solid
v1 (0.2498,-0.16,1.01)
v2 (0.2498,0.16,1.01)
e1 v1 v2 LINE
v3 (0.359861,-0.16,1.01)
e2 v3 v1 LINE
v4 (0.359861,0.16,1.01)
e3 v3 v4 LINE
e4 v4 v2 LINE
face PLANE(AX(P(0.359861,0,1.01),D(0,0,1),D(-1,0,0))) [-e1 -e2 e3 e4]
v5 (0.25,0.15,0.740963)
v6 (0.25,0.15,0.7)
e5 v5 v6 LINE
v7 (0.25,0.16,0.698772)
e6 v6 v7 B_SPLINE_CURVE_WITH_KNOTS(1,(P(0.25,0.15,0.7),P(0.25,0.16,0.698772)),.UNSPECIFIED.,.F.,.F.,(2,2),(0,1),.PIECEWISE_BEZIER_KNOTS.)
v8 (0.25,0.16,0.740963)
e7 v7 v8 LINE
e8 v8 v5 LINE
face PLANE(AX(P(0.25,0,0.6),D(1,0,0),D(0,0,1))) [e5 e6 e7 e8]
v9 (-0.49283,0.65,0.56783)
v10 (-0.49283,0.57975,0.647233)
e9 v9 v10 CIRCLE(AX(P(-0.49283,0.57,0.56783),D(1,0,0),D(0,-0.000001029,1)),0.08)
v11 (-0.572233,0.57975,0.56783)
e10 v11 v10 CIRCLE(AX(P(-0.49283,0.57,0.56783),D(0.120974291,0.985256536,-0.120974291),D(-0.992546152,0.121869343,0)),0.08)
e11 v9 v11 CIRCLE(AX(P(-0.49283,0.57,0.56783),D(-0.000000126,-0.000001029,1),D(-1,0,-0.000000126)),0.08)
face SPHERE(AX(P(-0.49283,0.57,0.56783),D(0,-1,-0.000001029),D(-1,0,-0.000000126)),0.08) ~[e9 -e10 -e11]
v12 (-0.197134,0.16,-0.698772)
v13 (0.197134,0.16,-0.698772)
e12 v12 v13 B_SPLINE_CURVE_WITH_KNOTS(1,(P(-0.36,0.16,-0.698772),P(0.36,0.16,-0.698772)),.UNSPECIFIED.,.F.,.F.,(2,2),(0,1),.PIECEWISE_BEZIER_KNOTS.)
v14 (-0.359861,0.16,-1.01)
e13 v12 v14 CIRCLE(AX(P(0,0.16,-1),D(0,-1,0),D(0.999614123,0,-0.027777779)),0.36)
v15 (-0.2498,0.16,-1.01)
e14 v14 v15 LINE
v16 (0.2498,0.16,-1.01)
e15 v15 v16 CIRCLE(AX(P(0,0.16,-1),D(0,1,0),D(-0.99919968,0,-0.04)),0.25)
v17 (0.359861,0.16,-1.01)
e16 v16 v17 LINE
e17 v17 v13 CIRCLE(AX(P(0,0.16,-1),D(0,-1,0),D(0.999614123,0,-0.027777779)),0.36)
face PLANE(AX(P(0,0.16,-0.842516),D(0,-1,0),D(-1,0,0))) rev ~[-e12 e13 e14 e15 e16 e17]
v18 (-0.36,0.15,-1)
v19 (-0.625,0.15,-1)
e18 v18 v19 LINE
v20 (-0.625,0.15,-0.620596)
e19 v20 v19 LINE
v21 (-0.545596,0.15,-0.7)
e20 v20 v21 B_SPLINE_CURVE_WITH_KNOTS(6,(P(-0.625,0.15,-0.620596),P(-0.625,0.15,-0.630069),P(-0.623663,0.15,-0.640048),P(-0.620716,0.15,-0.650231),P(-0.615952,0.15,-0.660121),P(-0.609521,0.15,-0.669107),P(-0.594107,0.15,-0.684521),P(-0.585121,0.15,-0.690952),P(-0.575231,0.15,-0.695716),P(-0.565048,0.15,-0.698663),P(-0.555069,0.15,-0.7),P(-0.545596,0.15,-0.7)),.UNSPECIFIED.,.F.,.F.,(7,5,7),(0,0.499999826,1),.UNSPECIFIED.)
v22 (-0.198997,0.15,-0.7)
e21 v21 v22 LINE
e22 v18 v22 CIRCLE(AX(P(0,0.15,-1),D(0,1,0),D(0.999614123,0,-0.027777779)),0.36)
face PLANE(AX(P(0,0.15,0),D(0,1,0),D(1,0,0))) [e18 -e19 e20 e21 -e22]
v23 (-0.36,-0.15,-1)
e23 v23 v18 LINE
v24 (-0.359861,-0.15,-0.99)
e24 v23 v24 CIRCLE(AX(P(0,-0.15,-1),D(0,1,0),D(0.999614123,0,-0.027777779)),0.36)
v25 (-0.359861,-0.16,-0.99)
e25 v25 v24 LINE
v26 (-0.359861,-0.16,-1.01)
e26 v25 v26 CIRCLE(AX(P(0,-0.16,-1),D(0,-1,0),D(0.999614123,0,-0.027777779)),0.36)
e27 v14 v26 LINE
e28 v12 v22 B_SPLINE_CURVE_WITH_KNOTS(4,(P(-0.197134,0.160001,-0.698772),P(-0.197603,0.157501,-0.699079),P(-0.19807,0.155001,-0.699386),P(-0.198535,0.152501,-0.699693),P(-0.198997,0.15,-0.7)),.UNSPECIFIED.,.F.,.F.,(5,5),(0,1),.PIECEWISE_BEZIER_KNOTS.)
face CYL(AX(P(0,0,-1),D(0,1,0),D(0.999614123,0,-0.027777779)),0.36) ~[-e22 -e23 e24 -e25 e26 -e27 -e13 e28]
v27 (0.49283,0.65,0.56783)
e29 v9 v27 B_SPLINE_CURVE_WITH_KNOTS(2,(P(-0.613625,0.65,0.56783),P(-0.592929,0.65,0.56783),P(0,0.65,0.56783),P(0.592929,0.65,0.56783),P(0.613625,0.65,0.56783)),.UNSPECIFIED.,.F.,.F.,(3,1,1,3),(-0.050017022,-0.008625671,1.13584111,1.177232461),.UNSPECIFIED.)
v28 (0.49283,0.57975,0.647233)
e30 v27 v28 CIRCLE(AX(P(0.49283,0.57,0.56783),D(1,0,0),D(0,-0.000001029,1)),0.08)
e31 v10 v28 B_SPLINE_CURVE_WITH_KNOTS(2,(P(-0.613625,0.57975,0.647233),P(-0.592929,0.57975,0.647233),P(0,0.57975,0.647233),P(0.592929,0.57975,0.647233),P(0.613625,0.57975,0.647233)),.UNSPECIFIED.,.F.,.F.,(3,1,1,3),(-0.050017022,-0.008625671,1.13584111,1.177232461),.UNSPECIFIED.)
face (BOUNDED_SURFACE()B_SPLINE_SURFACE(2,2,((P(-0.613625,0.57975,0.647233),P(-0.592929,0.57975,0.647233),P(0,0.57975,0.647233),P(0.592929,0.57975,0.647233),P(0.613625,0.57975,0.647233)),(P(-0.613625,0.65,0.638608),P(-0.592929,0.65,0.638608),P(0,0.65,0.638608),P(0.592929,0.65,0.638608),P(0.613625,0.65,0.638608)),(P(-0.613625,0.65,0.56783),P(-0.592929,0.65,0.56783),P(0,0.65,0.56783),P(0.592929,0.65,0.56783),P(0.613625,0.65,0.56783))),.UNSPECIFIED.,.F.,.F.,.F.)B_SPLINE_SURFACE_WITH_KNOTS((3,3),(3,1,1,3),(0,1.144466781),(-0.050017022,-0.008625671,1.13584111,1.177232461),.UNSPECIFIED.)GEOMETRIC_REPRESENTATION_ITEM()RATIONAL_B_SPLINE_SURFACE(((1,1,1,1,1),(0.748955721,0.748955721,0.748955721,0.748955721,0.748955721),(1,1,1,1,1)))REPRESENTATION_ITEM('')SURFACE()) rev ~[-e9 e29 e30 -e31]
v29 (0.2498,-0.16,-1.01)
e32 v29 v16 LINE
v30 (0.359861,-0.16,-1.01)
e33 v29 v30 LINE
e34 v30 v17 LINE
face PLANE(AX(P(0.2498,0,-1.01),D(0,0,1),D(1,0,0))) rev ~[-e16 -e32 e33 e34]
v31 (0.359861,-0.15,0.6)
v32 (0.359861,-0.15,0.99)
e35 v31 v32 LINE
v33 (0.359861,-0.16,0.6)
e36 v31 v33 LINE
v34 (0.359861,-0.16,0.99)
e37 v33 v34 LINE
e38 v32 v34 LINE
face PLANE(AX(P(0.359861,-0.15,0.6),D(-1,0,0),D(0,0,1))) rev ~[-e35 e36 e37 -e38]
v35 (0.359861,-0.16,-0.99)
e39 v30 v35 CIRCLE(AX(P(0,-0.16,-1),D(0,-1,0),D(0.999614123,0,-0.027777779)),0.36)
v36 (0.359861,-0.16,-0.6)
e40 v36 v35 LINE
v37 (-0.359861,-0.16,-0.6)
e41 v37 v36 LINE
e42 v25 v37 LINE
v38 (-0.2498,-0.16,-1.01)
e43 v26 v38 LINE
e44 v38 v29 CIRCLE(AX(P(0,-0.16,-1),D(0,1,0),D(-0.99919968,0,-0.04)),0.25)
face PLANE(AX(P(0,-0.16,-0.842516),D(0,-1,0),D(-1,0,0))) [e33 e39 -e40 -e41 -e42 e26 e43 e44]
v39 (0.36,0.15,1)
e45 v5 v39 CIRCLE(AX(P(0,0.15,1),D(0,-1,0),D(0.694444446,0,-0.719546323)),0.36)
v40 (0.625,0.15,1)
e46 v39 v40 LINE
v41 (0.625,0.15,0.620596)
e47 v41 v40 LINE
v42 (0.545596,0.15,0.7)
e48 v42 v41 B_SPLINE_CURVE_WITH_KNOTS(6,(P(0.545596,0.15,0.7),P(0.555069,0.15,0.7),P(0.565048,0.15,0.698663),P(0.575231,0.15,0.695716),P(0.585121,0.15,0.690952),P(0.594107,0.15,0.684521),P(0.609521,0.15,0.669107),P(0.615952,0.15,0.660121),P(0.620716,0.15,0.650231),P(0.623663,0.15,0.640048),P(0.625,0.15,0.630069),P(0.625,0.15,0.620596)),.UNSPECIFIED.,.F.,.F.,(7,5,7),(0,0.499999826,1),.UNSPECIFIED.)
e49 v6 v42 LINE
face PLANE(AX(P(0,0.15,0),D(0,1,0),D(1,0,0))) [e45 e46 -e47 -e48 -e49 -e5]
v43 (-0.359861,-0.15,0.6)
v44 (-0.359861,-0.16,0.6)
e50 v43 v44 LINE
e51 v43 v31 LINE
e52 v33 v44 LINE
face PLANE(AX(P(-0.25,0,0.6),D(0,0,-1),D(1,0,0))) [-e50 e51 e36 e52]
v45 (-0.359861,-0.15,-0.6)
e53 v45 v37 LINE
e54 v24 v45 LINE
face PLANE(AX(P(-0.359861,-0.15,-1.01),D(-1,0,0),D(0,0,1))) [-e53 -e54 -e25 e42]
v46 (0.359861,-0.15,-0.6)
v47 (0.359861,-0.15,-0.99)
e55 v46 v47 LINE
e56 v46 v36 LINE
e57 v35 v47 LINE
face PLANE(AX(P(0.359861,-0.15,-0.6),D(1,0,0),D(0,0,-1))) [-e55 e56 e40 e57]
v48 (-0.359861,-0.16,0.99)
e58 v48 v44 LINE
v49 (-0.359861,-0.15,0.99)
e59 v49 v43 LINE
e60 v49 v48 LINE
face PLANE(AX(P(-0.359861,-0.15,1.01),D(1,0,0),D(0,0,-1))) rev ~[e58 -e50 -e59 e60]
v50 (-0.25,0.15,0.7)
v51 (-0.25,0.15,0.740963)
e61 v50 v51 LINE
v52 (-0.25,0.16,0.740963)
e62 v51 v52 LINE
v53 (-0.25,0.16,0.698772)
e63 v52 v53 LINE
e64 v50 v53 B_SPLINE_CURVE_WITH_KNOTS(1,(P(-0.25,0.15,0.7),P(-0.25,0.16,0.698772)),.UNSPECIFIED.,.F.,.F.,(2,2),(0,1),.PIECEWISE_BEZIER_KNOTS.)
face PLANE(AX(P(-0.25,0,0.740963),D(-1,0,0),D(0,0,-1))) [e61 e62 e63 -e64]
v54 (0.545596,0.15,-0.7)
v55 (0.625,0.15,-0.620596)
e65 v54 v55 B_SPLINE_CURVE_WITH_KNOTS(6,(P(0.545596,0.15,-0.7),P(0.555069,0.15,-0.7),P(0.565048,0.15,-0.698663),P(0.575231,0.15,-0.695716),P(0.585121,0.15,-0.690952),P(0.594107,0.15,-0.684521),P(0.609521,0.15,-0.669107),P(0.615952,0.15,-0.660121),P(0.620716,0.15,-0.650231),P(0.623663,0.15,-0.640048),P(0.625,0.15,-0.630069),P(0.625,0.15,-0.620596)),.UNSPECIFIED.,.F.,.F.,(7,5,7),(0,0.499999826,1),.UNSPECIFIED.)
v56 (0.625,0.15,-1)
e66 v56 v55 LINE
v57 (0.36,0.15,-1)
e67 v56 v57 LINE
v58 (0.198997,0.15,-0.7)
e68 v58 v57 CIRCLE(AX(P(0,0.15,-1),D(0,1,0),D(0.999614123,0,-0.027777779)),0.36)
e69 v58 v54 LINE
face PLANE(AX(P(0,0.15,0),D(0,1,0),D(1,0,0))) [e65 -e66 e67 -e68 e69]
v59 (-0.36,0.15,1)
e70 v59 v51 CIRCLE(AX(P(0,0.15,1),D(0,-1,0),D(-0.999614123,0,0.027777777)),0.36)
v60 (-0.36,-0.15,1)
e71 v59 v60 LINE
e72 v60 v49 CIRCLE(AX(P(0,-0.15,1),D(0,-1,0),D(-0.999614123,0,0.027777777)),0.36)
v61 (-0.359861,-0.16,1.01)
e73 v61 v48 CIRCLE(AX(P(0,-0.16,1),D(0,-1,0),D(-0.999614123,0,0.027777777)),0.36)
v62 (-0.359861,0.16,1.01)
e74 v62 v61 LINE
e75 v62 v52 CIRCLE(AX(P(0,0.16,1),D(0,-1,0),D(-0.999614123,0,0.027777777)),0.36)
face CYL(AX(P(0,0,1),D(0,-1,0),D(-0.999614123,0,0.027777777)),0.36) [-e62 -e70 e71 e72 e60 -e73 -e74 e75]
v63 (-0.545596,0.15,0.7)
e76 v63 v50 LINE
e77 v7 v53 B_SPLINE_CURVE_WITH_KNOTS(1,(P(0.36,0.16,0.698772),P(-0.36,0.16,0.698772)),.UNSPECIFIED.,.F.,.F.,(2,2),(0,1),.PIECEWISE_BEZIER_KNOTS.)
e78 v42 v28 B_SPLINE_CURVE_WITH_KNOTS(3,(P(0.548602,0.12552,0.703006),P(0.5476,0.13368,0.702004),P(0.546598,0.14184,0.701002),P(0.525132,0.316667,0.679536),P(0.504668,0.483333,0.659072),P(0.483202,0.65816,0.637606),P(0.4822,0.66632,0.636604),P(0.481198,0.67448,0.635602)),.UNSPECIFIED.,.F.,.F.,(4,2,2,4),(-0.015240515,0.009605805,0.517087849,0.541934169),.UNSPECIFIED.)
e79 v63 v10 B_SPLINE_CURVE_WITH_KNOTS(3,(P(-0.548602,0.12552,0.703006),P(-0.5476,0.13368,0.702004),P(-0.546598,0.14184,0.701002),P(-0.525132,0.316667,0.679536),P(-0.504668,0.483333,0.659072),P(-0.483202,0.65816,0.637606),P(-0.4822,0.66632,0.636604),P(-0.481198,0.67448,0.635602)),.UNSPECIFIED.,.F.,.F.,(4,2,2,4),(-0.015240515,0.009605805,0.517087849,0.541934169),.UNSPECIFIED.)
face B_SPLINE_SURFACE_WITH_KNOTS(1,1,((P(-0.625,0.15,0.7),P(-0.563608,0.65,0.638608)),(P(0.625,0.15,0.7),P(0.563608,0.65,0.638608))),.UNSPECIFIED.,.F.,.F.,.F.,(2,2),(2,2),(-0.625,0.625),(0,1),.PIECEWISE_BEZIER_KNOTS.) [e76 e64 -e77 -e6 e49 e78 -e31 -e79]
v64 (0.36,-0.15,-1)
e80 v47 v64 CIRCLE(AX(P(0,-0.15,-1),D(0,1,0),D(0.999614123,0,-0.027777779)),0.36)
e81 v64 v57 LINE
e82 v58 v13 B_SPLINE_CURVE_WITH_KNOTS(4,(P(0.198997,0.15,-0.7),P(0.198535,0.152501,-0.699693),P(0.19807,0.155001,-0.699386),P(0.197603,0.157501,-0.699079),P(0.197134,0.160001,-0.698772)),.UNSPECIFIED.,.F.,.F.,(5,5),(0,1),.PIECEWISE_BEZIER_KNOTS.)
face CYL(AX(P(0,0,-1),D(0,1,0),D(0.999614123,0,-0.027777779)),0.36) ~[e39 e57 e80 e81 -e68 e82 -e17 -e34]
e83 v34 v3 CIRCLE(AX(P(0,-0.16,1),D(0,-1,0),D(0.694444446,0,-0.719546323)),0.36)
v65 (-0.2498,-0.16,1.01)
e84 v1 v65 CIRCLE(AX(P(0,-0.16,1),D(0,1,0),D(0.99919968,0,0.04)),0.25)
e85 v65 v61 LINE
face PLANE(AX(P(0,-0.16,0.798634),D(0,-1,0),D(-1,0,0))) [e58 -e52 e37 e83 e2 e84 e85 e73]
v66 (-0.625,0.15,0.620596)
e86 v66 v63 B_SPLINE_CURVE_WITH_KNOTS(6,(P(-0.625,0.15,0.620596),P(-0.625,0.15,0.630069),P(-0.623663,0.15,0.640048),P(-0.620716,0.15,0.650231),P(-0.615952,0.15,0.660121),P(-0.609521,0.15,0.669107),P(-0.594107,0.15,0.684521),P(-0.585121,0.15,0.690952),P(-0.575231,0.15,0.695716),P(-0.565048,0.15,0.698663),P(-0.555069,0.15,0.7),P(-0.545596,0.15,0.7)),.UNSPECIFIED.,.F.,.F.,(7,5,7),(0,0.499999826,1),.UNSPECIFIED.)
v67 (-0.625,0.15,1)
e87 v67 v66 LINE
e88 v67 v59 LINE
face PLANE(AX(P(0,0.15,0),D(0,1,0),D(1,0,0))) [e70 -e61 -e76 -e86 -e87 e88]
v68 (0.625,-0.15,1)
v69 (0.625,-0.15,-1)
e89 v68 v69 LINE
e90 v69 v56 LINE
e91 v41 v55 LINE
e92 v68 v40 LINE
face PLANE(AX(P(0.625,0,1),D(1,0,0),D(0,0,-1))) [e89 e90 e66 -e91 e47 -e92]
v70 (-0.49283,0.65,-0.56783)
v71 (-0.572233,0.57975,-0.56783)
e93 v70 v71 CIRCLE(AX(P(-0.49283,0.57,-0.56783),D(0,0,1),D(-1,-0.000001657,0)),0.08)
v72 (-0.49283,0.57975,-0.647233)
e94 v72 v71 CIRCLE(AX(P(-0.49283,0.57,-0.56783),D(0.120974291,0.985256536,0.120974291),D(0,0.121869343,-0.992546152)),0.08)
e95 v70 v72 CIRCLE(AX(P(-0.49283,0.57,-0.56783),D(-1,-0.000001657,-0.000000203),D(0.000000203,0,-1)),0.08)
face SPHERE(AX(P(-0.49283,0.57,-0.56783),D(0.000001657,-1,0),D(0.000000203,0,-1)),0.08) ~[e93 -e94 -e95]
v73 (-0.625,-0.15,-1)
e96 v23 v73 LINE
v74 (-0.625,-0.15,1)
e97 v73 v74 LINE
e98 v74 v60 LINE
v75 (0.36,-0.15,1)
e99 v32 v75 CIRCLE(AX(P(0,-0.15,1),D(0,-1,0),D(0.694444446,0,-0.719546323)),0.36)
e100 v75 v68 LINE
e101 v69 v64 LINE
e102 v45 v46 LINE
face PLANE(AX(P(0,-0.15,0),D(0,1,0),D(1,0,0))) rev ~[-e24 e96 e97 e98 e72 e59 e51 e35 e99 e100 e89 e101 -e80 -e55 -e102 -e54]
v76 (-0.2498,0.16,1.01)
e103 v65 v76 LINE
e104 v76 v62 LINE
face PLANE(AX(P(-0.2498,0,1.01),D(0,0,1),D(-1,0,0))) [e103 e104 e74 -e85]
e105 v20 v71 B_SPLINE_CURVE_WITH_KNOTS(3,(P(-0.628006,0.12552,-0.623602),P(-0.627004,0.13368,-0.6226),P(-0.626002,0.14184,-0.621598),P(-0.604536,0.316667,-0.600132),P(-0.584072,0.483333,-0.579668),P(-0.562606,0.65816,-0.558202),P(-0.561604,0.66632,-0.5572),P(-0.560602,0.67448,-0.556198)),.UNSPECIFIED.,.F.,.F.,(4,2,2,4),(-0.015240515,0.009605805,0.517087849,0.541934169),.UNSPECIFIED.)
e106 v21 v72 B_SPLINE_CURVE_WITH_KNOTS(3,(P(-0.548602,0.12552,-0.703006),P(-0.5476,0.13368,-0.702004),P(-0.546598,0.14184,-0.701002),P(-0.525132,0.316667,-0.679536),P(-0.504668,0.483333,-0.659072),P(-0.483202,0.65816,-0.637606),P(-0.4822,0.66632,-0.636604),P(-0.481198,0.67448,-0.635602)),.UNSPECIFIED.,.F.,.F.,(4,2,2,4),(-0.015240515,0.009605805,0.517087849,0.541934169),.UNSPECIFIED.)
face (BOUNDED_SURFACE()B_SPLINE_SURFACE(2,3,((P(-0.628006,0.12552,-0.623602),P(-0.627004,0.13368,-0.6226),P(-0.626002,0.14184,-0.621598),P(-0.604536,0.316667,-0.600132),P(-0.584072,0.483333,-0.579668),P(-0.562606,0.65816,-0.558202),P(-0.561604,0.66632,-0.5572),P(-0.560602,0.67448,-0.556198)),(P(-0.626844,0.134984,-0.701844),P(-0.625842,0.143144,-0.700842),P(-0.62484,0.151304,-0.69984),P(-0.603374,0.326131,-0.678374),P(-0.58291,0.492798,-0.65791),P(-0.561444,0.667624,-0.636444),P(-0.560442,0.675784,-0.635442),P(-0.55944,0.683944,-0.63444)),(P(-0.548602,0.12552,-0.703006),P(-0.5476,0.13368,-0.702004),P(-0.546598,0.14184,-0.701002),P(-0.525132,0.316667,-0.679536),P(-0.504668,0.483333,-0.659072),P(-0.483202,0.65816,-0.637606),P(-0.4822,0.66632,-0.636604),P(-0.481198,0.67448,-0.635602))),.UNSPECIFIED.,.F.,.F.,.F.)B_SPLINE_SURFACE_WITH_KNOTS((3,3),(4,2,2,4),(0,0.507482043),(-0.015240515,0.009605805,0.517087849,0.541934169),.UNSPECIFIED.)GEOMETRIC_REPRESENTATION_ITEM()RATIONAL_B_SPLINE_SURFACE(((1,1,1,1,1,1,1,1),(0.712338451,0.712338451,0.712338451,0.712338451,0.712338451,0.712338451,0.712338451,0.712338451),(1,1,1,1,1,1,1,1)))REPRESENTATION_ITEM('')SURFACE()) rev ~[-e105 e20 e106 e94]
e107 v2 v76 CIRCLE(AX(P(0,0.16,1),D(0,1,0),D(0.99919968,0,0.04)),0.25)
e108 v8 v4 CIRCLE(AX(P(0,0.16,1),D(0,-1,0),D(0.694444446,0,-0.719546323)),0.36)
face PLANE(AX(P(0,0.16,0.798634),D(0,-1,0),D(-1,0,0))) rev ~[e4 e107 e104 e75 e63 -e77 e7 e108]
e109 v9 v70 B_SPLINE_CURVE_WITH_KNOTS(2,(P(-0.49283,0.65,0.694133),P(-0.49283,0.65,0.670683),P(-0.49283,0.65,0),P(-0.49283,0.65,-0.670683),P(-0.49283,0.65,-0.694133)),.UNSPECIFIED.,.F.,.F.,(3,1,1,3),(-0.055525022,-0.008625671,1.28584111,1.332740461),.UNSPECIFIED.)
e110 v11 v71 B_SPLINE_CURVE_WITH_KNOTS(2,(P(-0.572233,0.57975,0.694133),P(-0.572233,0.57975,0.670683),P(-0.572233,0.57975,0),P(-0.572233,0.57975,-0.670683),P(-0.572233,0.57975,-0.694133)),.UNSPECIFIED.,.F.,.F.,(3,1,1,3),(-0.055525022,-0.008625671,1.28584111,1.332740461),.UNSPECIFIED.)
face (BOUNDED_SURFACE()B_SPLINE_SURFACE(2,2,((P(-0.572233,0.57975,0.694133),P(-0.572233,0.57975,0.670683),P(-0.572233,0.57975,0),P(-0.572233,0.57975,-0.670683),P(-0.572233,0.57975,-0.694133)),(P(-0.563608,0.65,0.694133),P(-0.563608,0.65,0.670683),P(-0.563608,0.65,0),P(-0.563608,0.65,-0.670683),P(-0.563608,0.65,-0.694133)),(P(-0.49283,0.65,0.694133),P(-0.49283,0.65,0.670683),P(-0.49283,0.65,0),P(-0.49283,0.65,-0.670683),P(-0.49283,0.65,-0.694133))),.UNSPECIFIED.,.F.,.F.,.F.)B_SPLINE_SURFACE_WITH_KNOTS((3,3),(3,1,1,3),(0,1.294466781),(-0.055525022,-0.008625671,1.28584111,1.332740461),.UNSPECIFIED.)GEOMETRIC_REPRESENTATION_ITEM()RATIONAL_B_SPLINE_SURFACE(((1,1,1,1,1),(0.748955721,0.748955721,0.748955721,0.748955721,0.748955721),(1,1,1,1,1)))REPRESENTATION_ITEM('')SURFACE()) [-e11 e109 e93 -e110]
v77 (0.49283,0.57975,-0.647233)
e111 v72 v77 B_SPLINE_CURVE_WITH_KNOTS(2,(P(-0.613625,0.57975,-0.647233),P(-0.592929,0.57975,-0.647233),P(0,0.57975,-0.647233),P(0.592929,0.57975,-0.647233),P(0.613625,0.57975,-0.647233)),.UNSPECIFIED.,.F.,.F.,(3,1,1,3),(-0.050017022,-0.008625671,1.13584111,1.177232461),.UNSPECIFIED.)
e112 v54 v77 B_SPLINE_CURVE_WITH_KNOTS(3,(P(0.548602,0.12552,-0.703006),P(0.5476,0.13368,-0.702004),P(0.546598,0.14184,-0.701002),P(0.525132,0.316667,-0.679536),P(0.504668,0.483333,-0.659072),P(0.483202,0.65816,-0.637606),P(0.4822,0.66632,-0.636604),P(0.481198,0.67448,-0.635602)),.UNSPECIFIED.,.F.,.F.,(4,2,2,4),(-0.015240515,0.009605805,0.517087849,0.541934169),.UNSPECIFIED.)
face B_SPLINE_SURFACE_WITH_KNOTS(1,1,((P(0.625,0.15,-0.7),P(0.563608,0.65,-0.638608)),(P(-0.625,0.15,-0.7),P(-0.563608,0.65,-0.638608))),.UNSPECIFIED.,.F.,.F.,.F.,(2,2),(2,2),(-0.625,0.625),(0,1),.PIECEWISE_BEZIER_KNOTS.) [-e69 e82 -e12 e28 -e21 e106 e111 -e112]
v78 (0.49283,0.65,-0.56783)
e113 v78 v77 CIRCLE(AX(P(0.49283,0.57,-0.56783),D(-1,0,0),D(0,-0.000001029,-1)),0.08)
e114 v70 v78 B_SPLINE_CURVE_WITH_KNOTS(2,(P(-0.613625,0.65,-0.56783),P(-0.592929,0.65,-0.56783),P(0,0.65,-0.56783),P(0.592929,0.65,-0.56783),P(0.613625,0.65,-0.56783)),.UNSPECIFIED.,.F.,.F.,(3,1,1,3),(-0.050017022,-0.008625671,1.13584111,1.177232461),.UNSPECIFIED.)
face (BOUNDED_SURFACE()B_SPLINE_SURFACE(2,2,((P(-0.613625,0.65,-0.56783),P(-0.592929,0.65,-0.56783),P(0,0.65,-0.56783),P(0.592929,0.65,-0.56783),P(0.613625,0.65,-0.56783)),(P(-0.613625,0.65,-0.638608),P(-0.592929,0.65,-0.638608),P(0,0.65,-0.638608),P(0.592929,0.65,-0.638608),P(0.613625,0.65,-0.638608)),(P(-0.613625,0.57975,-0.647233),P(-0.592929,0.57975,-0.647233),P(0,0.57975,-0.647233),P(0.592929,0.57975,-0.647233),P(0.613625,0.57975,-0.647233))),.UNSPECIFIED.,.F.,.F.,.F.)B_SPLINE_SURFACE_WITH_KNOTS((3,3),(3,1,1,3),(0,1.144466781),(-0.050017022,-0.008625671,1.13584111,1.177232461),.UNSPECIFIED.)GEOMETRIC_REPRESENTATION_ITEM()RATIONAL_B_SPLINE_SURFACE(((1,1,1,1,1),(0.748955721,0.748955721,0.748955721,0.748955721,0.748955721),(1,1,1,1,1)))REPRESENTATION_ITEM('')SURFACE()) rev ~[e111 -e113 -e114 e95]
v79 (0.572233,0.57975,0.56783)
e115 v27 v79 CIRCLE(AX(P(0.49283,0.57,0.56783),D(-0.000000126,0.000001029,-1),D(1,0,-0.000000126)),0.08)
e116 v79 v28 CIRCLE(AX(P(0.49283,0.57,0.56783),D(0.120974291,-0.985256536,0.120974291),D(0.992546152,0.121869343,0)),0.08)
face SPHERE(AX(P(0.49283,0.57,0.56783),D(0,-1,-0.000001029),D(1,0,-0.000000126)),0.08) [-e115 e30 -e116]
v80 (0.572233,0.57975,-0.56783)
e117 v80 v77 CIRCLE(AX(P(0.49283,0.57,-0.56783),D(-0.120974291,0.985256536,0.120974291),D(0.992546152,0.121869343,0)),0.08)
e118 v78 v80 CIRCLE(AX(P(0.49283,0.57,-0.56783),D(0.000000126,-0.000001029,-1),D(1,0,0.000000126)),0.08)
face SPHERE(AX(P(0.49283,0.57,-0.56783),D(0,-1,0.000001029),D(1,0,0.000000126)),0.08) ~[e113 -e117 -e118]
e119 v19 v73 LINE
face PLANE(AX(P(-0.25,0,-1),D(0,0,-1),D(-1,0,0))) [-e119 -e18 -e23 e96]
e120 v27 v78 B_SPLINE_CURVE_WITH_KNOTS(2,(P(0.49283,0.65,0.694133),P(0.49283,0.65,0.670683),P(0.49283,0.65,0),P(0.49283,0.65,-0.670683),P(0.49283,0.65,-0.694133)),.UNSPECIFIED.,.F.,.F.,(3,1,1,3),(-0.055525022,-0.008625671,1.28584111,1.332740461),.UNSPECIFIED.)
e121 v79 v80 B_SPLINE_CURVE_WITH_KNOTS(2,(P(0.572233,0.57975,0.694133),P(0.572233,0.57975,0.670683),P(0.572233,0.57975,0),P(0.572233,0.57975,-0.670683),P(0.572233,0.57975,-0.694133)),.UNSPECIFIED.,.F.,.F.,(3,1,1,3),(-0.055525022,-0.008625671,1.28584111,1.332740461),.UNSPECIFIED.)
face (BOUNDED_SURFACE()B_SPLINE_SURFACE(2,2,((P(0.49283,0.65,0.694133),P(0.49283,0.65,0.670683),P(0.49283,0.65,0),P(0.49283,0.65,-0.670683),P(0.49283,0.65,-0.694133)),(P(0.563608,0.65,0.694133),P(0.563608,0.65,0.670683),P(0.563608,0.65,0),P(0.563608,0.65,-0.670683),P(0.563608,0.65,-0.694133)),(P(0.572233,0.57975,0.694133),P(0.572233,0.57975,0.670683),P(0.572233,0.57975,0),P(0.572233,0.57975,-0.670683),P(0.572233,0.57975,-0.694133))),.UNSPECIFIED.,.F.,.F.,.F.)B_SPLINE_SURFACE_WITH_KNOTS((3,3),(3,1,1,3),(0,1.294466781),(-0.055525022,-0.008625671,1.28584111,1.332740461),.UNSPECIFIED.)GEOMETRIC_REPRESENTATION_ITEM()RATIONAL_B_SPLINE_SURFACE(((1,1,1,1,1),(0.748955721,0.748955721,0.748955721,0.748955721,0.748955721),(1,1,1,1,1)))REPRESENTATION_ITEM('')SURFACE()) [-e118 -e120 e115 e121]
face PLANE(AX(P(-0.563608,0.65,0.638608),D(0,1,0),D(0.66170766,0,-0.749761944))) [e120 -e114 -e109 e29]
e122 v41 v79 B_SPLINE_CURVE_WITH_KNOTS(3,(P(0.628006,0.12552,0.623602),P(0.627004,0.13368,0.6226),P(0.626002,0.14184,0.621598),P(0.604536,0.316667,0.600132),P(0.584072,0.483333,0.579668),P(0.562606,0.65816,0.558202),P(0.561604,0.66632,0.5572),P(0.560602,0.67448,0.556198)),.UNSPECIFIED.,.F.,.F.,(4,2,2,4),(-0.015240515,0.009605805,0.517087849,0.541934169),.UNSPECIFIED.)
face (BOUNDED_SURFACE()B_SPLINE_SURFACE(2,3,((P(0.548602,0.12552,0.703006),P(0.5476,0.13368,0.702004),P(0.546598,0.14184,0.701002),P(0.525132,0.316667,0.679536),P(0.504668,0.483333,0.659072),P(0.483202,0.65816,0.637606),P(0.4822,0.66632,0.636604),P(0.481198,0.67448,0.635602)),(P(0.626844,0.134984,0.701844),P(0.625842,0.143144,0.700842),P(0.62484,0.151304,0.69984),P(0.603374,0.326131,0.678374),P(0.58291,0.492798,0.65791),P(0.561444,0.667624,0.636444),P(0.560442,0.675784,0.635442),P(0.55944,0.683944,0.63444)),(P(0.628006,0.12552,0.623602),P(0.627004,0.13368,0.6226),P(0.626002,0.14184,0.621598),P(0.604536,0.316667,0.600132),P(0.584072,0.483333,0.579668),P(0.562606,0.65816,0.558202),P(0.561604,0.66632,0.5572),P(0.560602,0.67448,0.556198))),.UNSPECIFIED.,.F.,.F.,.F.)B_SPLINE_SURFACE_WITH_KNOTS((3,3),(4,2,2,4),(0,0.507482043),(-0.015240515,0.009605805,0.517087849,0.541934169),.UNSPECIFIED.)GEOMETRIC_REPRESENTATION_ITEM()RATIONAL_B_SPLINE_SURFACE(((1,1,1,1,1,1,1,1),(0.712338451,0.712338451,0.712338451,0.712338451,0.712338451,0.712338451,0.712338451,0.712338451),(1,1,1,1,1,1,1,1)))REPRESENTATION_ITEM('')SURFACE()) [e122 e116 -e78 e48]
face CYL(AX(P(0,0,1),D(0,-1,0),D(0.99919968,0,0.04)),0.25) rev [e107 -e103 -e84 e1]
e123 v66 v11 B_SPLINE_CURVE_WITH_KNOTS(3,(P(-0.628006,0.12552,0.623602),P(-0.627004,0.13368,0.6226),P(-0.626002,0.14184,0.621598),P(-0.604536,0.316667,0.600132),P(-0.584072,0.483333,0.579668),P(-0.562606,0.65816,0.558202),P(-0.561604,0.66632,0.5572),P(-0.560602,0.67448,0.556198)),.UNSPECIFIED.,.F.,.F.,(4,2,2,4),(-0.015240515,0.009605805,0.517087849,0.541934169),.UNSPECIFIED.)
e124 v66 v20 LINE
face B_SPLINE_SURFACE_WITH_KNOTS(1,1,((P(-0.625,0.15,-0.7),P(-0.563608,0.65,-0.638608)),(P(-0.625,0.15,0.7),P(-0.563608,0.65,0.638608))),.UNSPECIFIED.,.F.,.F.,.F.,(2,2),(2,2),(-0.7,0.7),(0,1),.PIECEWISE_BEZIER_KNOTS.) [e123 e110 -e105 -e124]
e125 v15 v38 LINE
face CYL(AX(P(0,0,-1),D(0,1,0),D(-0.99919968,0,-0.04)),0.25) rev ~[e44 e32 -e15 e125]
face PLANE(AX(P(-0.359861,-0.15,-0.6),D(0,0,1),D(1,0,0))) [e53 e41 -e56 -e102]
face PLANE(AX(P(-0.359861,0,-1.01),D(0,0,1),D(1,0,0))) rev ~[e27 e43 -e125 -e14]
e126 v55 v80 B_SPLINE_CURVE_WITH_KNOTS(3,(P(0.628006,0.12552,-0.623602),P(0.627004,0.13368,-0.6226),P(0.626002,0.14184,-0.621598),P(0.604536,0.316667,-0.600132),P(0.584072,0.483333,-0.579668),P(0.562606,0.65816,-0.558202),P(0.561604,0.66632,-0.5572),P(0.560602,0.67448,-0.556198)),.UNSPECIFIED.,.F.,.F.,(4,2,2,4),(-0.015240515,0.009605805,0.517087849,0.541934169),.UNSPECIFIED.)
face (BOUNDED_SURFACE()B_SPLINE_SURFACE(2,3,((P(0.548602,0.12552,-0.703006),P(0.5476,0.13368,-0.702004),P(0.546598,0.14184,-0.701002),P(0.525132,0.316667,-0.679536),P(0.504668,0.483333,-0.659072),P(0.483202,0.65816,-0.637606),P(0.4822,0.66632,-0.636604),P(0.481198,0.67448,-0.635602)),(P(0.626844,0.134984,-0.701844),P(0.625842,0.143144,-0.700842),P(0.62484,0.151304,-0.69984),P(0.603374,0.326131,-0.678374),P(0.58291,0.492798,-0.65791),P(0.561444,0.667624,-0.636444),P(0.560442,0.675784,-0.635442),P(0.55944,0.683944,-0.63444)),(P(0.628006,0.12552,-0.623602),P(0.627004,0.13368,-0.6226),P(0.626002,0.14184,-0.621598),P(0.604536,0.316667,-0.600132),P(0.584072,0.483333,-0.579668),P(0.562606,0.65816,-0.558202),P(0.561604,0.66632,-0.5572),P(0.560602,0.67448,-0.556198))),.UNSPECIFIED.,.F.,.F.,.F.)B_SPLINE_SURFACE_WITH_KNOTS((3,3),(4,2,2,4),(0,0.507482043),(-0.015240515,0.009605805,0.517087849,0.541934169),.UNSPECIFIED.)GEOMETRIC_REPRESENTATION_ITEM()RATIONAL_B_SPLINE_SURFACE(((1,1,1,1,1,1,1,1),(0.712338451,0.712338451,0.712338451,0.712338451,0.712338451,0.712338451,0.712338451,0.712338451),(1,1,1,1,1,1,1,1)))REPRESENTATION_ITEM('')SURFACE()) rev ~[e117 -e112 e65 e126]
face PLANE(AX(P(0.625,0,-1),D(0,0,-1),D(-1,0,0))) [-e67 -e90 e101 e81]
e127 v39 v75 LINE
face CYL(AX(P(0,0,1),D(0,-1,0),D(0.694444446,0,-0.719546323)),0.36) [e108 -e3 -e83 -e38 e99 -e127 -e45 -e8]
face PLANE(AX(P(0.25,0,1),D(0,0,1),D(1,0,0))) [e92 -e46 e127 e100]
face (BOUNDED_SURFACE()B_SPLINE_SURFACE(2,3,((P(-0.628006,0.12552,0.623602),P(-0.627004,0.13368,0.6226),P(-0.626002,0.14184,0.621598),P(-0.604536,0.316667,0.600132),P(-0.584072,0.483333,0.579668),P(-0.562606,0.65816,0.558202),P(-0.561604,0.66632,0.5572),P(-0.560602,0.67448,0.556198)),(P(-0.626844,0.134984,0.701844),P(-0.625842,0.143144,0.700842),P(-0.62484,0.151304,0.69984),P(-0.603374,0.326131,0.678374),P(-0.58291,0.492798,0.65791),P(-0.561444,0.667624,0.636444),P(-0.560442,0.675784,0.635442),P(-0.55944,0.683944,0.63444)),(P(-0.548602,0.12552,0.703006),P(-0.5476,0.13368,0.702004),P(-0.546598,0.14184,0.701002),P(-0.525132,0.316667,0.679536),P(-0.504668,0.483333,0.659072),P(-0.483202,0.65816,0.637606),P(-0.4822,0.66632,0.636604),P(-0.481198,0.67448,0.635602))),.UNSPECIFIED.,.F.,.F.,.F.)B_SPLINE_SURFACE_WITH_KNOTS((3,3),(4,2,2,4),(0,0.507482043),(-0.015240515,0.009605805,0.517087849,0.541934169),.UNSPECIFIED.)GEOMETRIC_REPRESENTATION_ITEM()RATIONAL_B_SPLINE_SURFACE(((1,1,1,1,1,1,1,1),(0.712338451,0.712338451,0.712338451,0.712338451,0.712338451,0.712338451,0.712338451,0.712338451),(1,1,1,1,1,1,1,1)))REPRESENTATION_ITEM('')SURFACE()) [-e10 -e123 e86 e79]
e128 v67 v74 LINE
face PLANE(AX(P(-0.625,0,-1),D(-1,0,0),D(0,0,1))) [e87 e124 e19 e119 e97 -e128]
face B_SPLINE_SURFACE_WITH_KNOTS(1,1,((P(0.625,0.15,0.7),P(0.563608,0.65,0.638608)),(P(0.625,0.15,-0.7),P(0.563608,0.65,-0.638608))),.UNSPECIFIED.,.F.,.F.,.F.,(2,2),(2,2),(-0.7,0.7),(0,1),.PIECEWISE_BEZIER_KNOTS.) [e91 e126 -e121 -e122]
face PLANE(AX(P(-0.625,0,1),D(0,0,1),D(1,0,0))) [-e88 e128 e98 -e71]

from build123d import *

# Parameters (mm, degrees)
BASE_DEPTH        = 0.15
LEAD_TOP_DEPTH    = 0.16
LEAD_START        = -0.01
LEAD_BOTTOM_DEPTH = 0.01
SKETCH7_W         = 1.25
SKETCH7_H         = 1.4
LENS_DEPTH        = 0.5
LENS_TAPER        = 7
FILLET_2_R        = 0.08


with BuildPart() as part:
    # Sketch1 → Base (new, symmetric)
    with BuildSketch(Plane(origin=(0, 0, 0), x_dir=(1, 0, 0), z_dir=(0, 1, 0))):
        with BuildLine():
            Line((-0.625, -1), (-0.25, -1))
            ThreePointArc((-0.25, -1), (0, -0.75), (0.25, -1))
            Line((0.25, -1), (0.625, -1))
            Line((0.625, -1), (0.625, 1))
            Line((0.625, 1), (0.25, 1))
            ThreePointArc((0.25, 1), (0, 0.75), (-0.25, 1))
            Line((-0.25, 1), (-0.625, 1))
            Line((-0.625, 1), (-0.625, -1))
        make_face()
    extrude(amount=BASE_DEPTH, both=True)

    # Sketch8 → Lead top (add, symmetric)
    with BuildSketch(Plane(origin=(0, 0, 0), x_dir=(1, 0, 0), z_dir=(0, 1, 0))):
        with BuildLine():
            Line((-0.25, -0.740963323), (-0.25, -0.6))
            Line((-0.25, -0.6), (0.25, -0.6))
            Line((0.25, -0.6), (0.25, -0.740963323))
            ThreePointArc((0.25, -0.740963323), (0.333283391, -0.86390378), (0.359861084, -1.01))
            Line((0.359861084, -1.01), (0.24979992, -1.01))
            ThreePointArc((0.24979992, -1.01), (0, -0.75), (-0.24979992, -1.01))
            Line((-0.24979992, -1.01), (-0.359861084, -1.01))
            ThreePointArc((-0.359861084, -1.01), (-0.333283391, -0.86390378), (-0.25, -0.740963323))
        make_face()
        with BuildLine():
            Line((-0.359861084, 1.01), (-0.24979992, 1.01))
            ThreePointArc((-0.24979992, 1.01), (0, 0.75), (0.24979992, 1.01))
            Line((0.24979992, 1.01), (0.359861084, 1.01))
            ThreePointArc((0.359861084, 1.01), (0, 0.64), (-0.359861084, 1.01))
        make_face()
    extrude(amount=LEAD_TOP_DEPTH, both=True)

    # Sketch10 → Lead bottom (add)
    with BuildSketch(Plane.XZ.offset(0.16).offset(LEAD_START)):
        with BuildLine():
            Line((-0.359861084, 1.01), (-0.359861084, 0.6))
            Line((-0.359861084, 0.6), (0.359861084, 0.6))
            Line((0.359861084, 0.6), (0.359861084, 1.01))
            Line((0.359861084, 1.01), (0.24979992, 1.01))
            ThreePointArc((0.24979992, 1.01), (0, 0.75), (-0.24979992, 1.01))
            Line((-0.24979992, 1.01), (-0.359861084, 1.01))
        make_face()
        with BuildLine():
            Line((-0.359861084, -0.6), (0.359861084, -0.6))
            Line((0.359861084, -0.6), (0.359861084, -1.01))
            Line((0.359861084, -1.01), (0.24979992, -1.01))
            ThreePointArc((0.24979992, -1.01), (0, -0.75), (-0.24979992, -1.01))
            Line((-0.24979992, -1.01), (-0.359861084, -1.01))
            Line((-0.359861084, -1.01), (-0.359861084, -0.6))
        make_face()
    extrude(amount=LEAD_BOTTOM_DEPTH)

    # Sketch7 → Lens (add)
    with BuildSketch(Plane(origin=(0, 0.15, 0), x_dir=(1, 0, 0), z_dir=(0, 1, 0))):
        Rectangle(SKETCH7_W, SKETCH7_H)
    extrude(amount=LENS_DEPTH, taper=LENS_TAPER)

    # Fillet 2
    fillet_2_edges = [part.edges().sort_by_distance(p)[0] for p in [
        (-0.59430386, 0.4, 0.66930386),
        (0.59430386, 0.4, -0.66930386),
        (0.59430386, 0.4, 0.66930386),
        (-0.59430386, 0.4, -0.66930386),
        (0.56360772, 0.65, 0),
        (0, 0.65, -0.63860772),
        (-0.56360772, 0.65, 0),
        (0, 0.65, 0.63860772),
    ]]
    fillet(fillet_2_edges, radius=FILLET_2_R)


solid = part.part
